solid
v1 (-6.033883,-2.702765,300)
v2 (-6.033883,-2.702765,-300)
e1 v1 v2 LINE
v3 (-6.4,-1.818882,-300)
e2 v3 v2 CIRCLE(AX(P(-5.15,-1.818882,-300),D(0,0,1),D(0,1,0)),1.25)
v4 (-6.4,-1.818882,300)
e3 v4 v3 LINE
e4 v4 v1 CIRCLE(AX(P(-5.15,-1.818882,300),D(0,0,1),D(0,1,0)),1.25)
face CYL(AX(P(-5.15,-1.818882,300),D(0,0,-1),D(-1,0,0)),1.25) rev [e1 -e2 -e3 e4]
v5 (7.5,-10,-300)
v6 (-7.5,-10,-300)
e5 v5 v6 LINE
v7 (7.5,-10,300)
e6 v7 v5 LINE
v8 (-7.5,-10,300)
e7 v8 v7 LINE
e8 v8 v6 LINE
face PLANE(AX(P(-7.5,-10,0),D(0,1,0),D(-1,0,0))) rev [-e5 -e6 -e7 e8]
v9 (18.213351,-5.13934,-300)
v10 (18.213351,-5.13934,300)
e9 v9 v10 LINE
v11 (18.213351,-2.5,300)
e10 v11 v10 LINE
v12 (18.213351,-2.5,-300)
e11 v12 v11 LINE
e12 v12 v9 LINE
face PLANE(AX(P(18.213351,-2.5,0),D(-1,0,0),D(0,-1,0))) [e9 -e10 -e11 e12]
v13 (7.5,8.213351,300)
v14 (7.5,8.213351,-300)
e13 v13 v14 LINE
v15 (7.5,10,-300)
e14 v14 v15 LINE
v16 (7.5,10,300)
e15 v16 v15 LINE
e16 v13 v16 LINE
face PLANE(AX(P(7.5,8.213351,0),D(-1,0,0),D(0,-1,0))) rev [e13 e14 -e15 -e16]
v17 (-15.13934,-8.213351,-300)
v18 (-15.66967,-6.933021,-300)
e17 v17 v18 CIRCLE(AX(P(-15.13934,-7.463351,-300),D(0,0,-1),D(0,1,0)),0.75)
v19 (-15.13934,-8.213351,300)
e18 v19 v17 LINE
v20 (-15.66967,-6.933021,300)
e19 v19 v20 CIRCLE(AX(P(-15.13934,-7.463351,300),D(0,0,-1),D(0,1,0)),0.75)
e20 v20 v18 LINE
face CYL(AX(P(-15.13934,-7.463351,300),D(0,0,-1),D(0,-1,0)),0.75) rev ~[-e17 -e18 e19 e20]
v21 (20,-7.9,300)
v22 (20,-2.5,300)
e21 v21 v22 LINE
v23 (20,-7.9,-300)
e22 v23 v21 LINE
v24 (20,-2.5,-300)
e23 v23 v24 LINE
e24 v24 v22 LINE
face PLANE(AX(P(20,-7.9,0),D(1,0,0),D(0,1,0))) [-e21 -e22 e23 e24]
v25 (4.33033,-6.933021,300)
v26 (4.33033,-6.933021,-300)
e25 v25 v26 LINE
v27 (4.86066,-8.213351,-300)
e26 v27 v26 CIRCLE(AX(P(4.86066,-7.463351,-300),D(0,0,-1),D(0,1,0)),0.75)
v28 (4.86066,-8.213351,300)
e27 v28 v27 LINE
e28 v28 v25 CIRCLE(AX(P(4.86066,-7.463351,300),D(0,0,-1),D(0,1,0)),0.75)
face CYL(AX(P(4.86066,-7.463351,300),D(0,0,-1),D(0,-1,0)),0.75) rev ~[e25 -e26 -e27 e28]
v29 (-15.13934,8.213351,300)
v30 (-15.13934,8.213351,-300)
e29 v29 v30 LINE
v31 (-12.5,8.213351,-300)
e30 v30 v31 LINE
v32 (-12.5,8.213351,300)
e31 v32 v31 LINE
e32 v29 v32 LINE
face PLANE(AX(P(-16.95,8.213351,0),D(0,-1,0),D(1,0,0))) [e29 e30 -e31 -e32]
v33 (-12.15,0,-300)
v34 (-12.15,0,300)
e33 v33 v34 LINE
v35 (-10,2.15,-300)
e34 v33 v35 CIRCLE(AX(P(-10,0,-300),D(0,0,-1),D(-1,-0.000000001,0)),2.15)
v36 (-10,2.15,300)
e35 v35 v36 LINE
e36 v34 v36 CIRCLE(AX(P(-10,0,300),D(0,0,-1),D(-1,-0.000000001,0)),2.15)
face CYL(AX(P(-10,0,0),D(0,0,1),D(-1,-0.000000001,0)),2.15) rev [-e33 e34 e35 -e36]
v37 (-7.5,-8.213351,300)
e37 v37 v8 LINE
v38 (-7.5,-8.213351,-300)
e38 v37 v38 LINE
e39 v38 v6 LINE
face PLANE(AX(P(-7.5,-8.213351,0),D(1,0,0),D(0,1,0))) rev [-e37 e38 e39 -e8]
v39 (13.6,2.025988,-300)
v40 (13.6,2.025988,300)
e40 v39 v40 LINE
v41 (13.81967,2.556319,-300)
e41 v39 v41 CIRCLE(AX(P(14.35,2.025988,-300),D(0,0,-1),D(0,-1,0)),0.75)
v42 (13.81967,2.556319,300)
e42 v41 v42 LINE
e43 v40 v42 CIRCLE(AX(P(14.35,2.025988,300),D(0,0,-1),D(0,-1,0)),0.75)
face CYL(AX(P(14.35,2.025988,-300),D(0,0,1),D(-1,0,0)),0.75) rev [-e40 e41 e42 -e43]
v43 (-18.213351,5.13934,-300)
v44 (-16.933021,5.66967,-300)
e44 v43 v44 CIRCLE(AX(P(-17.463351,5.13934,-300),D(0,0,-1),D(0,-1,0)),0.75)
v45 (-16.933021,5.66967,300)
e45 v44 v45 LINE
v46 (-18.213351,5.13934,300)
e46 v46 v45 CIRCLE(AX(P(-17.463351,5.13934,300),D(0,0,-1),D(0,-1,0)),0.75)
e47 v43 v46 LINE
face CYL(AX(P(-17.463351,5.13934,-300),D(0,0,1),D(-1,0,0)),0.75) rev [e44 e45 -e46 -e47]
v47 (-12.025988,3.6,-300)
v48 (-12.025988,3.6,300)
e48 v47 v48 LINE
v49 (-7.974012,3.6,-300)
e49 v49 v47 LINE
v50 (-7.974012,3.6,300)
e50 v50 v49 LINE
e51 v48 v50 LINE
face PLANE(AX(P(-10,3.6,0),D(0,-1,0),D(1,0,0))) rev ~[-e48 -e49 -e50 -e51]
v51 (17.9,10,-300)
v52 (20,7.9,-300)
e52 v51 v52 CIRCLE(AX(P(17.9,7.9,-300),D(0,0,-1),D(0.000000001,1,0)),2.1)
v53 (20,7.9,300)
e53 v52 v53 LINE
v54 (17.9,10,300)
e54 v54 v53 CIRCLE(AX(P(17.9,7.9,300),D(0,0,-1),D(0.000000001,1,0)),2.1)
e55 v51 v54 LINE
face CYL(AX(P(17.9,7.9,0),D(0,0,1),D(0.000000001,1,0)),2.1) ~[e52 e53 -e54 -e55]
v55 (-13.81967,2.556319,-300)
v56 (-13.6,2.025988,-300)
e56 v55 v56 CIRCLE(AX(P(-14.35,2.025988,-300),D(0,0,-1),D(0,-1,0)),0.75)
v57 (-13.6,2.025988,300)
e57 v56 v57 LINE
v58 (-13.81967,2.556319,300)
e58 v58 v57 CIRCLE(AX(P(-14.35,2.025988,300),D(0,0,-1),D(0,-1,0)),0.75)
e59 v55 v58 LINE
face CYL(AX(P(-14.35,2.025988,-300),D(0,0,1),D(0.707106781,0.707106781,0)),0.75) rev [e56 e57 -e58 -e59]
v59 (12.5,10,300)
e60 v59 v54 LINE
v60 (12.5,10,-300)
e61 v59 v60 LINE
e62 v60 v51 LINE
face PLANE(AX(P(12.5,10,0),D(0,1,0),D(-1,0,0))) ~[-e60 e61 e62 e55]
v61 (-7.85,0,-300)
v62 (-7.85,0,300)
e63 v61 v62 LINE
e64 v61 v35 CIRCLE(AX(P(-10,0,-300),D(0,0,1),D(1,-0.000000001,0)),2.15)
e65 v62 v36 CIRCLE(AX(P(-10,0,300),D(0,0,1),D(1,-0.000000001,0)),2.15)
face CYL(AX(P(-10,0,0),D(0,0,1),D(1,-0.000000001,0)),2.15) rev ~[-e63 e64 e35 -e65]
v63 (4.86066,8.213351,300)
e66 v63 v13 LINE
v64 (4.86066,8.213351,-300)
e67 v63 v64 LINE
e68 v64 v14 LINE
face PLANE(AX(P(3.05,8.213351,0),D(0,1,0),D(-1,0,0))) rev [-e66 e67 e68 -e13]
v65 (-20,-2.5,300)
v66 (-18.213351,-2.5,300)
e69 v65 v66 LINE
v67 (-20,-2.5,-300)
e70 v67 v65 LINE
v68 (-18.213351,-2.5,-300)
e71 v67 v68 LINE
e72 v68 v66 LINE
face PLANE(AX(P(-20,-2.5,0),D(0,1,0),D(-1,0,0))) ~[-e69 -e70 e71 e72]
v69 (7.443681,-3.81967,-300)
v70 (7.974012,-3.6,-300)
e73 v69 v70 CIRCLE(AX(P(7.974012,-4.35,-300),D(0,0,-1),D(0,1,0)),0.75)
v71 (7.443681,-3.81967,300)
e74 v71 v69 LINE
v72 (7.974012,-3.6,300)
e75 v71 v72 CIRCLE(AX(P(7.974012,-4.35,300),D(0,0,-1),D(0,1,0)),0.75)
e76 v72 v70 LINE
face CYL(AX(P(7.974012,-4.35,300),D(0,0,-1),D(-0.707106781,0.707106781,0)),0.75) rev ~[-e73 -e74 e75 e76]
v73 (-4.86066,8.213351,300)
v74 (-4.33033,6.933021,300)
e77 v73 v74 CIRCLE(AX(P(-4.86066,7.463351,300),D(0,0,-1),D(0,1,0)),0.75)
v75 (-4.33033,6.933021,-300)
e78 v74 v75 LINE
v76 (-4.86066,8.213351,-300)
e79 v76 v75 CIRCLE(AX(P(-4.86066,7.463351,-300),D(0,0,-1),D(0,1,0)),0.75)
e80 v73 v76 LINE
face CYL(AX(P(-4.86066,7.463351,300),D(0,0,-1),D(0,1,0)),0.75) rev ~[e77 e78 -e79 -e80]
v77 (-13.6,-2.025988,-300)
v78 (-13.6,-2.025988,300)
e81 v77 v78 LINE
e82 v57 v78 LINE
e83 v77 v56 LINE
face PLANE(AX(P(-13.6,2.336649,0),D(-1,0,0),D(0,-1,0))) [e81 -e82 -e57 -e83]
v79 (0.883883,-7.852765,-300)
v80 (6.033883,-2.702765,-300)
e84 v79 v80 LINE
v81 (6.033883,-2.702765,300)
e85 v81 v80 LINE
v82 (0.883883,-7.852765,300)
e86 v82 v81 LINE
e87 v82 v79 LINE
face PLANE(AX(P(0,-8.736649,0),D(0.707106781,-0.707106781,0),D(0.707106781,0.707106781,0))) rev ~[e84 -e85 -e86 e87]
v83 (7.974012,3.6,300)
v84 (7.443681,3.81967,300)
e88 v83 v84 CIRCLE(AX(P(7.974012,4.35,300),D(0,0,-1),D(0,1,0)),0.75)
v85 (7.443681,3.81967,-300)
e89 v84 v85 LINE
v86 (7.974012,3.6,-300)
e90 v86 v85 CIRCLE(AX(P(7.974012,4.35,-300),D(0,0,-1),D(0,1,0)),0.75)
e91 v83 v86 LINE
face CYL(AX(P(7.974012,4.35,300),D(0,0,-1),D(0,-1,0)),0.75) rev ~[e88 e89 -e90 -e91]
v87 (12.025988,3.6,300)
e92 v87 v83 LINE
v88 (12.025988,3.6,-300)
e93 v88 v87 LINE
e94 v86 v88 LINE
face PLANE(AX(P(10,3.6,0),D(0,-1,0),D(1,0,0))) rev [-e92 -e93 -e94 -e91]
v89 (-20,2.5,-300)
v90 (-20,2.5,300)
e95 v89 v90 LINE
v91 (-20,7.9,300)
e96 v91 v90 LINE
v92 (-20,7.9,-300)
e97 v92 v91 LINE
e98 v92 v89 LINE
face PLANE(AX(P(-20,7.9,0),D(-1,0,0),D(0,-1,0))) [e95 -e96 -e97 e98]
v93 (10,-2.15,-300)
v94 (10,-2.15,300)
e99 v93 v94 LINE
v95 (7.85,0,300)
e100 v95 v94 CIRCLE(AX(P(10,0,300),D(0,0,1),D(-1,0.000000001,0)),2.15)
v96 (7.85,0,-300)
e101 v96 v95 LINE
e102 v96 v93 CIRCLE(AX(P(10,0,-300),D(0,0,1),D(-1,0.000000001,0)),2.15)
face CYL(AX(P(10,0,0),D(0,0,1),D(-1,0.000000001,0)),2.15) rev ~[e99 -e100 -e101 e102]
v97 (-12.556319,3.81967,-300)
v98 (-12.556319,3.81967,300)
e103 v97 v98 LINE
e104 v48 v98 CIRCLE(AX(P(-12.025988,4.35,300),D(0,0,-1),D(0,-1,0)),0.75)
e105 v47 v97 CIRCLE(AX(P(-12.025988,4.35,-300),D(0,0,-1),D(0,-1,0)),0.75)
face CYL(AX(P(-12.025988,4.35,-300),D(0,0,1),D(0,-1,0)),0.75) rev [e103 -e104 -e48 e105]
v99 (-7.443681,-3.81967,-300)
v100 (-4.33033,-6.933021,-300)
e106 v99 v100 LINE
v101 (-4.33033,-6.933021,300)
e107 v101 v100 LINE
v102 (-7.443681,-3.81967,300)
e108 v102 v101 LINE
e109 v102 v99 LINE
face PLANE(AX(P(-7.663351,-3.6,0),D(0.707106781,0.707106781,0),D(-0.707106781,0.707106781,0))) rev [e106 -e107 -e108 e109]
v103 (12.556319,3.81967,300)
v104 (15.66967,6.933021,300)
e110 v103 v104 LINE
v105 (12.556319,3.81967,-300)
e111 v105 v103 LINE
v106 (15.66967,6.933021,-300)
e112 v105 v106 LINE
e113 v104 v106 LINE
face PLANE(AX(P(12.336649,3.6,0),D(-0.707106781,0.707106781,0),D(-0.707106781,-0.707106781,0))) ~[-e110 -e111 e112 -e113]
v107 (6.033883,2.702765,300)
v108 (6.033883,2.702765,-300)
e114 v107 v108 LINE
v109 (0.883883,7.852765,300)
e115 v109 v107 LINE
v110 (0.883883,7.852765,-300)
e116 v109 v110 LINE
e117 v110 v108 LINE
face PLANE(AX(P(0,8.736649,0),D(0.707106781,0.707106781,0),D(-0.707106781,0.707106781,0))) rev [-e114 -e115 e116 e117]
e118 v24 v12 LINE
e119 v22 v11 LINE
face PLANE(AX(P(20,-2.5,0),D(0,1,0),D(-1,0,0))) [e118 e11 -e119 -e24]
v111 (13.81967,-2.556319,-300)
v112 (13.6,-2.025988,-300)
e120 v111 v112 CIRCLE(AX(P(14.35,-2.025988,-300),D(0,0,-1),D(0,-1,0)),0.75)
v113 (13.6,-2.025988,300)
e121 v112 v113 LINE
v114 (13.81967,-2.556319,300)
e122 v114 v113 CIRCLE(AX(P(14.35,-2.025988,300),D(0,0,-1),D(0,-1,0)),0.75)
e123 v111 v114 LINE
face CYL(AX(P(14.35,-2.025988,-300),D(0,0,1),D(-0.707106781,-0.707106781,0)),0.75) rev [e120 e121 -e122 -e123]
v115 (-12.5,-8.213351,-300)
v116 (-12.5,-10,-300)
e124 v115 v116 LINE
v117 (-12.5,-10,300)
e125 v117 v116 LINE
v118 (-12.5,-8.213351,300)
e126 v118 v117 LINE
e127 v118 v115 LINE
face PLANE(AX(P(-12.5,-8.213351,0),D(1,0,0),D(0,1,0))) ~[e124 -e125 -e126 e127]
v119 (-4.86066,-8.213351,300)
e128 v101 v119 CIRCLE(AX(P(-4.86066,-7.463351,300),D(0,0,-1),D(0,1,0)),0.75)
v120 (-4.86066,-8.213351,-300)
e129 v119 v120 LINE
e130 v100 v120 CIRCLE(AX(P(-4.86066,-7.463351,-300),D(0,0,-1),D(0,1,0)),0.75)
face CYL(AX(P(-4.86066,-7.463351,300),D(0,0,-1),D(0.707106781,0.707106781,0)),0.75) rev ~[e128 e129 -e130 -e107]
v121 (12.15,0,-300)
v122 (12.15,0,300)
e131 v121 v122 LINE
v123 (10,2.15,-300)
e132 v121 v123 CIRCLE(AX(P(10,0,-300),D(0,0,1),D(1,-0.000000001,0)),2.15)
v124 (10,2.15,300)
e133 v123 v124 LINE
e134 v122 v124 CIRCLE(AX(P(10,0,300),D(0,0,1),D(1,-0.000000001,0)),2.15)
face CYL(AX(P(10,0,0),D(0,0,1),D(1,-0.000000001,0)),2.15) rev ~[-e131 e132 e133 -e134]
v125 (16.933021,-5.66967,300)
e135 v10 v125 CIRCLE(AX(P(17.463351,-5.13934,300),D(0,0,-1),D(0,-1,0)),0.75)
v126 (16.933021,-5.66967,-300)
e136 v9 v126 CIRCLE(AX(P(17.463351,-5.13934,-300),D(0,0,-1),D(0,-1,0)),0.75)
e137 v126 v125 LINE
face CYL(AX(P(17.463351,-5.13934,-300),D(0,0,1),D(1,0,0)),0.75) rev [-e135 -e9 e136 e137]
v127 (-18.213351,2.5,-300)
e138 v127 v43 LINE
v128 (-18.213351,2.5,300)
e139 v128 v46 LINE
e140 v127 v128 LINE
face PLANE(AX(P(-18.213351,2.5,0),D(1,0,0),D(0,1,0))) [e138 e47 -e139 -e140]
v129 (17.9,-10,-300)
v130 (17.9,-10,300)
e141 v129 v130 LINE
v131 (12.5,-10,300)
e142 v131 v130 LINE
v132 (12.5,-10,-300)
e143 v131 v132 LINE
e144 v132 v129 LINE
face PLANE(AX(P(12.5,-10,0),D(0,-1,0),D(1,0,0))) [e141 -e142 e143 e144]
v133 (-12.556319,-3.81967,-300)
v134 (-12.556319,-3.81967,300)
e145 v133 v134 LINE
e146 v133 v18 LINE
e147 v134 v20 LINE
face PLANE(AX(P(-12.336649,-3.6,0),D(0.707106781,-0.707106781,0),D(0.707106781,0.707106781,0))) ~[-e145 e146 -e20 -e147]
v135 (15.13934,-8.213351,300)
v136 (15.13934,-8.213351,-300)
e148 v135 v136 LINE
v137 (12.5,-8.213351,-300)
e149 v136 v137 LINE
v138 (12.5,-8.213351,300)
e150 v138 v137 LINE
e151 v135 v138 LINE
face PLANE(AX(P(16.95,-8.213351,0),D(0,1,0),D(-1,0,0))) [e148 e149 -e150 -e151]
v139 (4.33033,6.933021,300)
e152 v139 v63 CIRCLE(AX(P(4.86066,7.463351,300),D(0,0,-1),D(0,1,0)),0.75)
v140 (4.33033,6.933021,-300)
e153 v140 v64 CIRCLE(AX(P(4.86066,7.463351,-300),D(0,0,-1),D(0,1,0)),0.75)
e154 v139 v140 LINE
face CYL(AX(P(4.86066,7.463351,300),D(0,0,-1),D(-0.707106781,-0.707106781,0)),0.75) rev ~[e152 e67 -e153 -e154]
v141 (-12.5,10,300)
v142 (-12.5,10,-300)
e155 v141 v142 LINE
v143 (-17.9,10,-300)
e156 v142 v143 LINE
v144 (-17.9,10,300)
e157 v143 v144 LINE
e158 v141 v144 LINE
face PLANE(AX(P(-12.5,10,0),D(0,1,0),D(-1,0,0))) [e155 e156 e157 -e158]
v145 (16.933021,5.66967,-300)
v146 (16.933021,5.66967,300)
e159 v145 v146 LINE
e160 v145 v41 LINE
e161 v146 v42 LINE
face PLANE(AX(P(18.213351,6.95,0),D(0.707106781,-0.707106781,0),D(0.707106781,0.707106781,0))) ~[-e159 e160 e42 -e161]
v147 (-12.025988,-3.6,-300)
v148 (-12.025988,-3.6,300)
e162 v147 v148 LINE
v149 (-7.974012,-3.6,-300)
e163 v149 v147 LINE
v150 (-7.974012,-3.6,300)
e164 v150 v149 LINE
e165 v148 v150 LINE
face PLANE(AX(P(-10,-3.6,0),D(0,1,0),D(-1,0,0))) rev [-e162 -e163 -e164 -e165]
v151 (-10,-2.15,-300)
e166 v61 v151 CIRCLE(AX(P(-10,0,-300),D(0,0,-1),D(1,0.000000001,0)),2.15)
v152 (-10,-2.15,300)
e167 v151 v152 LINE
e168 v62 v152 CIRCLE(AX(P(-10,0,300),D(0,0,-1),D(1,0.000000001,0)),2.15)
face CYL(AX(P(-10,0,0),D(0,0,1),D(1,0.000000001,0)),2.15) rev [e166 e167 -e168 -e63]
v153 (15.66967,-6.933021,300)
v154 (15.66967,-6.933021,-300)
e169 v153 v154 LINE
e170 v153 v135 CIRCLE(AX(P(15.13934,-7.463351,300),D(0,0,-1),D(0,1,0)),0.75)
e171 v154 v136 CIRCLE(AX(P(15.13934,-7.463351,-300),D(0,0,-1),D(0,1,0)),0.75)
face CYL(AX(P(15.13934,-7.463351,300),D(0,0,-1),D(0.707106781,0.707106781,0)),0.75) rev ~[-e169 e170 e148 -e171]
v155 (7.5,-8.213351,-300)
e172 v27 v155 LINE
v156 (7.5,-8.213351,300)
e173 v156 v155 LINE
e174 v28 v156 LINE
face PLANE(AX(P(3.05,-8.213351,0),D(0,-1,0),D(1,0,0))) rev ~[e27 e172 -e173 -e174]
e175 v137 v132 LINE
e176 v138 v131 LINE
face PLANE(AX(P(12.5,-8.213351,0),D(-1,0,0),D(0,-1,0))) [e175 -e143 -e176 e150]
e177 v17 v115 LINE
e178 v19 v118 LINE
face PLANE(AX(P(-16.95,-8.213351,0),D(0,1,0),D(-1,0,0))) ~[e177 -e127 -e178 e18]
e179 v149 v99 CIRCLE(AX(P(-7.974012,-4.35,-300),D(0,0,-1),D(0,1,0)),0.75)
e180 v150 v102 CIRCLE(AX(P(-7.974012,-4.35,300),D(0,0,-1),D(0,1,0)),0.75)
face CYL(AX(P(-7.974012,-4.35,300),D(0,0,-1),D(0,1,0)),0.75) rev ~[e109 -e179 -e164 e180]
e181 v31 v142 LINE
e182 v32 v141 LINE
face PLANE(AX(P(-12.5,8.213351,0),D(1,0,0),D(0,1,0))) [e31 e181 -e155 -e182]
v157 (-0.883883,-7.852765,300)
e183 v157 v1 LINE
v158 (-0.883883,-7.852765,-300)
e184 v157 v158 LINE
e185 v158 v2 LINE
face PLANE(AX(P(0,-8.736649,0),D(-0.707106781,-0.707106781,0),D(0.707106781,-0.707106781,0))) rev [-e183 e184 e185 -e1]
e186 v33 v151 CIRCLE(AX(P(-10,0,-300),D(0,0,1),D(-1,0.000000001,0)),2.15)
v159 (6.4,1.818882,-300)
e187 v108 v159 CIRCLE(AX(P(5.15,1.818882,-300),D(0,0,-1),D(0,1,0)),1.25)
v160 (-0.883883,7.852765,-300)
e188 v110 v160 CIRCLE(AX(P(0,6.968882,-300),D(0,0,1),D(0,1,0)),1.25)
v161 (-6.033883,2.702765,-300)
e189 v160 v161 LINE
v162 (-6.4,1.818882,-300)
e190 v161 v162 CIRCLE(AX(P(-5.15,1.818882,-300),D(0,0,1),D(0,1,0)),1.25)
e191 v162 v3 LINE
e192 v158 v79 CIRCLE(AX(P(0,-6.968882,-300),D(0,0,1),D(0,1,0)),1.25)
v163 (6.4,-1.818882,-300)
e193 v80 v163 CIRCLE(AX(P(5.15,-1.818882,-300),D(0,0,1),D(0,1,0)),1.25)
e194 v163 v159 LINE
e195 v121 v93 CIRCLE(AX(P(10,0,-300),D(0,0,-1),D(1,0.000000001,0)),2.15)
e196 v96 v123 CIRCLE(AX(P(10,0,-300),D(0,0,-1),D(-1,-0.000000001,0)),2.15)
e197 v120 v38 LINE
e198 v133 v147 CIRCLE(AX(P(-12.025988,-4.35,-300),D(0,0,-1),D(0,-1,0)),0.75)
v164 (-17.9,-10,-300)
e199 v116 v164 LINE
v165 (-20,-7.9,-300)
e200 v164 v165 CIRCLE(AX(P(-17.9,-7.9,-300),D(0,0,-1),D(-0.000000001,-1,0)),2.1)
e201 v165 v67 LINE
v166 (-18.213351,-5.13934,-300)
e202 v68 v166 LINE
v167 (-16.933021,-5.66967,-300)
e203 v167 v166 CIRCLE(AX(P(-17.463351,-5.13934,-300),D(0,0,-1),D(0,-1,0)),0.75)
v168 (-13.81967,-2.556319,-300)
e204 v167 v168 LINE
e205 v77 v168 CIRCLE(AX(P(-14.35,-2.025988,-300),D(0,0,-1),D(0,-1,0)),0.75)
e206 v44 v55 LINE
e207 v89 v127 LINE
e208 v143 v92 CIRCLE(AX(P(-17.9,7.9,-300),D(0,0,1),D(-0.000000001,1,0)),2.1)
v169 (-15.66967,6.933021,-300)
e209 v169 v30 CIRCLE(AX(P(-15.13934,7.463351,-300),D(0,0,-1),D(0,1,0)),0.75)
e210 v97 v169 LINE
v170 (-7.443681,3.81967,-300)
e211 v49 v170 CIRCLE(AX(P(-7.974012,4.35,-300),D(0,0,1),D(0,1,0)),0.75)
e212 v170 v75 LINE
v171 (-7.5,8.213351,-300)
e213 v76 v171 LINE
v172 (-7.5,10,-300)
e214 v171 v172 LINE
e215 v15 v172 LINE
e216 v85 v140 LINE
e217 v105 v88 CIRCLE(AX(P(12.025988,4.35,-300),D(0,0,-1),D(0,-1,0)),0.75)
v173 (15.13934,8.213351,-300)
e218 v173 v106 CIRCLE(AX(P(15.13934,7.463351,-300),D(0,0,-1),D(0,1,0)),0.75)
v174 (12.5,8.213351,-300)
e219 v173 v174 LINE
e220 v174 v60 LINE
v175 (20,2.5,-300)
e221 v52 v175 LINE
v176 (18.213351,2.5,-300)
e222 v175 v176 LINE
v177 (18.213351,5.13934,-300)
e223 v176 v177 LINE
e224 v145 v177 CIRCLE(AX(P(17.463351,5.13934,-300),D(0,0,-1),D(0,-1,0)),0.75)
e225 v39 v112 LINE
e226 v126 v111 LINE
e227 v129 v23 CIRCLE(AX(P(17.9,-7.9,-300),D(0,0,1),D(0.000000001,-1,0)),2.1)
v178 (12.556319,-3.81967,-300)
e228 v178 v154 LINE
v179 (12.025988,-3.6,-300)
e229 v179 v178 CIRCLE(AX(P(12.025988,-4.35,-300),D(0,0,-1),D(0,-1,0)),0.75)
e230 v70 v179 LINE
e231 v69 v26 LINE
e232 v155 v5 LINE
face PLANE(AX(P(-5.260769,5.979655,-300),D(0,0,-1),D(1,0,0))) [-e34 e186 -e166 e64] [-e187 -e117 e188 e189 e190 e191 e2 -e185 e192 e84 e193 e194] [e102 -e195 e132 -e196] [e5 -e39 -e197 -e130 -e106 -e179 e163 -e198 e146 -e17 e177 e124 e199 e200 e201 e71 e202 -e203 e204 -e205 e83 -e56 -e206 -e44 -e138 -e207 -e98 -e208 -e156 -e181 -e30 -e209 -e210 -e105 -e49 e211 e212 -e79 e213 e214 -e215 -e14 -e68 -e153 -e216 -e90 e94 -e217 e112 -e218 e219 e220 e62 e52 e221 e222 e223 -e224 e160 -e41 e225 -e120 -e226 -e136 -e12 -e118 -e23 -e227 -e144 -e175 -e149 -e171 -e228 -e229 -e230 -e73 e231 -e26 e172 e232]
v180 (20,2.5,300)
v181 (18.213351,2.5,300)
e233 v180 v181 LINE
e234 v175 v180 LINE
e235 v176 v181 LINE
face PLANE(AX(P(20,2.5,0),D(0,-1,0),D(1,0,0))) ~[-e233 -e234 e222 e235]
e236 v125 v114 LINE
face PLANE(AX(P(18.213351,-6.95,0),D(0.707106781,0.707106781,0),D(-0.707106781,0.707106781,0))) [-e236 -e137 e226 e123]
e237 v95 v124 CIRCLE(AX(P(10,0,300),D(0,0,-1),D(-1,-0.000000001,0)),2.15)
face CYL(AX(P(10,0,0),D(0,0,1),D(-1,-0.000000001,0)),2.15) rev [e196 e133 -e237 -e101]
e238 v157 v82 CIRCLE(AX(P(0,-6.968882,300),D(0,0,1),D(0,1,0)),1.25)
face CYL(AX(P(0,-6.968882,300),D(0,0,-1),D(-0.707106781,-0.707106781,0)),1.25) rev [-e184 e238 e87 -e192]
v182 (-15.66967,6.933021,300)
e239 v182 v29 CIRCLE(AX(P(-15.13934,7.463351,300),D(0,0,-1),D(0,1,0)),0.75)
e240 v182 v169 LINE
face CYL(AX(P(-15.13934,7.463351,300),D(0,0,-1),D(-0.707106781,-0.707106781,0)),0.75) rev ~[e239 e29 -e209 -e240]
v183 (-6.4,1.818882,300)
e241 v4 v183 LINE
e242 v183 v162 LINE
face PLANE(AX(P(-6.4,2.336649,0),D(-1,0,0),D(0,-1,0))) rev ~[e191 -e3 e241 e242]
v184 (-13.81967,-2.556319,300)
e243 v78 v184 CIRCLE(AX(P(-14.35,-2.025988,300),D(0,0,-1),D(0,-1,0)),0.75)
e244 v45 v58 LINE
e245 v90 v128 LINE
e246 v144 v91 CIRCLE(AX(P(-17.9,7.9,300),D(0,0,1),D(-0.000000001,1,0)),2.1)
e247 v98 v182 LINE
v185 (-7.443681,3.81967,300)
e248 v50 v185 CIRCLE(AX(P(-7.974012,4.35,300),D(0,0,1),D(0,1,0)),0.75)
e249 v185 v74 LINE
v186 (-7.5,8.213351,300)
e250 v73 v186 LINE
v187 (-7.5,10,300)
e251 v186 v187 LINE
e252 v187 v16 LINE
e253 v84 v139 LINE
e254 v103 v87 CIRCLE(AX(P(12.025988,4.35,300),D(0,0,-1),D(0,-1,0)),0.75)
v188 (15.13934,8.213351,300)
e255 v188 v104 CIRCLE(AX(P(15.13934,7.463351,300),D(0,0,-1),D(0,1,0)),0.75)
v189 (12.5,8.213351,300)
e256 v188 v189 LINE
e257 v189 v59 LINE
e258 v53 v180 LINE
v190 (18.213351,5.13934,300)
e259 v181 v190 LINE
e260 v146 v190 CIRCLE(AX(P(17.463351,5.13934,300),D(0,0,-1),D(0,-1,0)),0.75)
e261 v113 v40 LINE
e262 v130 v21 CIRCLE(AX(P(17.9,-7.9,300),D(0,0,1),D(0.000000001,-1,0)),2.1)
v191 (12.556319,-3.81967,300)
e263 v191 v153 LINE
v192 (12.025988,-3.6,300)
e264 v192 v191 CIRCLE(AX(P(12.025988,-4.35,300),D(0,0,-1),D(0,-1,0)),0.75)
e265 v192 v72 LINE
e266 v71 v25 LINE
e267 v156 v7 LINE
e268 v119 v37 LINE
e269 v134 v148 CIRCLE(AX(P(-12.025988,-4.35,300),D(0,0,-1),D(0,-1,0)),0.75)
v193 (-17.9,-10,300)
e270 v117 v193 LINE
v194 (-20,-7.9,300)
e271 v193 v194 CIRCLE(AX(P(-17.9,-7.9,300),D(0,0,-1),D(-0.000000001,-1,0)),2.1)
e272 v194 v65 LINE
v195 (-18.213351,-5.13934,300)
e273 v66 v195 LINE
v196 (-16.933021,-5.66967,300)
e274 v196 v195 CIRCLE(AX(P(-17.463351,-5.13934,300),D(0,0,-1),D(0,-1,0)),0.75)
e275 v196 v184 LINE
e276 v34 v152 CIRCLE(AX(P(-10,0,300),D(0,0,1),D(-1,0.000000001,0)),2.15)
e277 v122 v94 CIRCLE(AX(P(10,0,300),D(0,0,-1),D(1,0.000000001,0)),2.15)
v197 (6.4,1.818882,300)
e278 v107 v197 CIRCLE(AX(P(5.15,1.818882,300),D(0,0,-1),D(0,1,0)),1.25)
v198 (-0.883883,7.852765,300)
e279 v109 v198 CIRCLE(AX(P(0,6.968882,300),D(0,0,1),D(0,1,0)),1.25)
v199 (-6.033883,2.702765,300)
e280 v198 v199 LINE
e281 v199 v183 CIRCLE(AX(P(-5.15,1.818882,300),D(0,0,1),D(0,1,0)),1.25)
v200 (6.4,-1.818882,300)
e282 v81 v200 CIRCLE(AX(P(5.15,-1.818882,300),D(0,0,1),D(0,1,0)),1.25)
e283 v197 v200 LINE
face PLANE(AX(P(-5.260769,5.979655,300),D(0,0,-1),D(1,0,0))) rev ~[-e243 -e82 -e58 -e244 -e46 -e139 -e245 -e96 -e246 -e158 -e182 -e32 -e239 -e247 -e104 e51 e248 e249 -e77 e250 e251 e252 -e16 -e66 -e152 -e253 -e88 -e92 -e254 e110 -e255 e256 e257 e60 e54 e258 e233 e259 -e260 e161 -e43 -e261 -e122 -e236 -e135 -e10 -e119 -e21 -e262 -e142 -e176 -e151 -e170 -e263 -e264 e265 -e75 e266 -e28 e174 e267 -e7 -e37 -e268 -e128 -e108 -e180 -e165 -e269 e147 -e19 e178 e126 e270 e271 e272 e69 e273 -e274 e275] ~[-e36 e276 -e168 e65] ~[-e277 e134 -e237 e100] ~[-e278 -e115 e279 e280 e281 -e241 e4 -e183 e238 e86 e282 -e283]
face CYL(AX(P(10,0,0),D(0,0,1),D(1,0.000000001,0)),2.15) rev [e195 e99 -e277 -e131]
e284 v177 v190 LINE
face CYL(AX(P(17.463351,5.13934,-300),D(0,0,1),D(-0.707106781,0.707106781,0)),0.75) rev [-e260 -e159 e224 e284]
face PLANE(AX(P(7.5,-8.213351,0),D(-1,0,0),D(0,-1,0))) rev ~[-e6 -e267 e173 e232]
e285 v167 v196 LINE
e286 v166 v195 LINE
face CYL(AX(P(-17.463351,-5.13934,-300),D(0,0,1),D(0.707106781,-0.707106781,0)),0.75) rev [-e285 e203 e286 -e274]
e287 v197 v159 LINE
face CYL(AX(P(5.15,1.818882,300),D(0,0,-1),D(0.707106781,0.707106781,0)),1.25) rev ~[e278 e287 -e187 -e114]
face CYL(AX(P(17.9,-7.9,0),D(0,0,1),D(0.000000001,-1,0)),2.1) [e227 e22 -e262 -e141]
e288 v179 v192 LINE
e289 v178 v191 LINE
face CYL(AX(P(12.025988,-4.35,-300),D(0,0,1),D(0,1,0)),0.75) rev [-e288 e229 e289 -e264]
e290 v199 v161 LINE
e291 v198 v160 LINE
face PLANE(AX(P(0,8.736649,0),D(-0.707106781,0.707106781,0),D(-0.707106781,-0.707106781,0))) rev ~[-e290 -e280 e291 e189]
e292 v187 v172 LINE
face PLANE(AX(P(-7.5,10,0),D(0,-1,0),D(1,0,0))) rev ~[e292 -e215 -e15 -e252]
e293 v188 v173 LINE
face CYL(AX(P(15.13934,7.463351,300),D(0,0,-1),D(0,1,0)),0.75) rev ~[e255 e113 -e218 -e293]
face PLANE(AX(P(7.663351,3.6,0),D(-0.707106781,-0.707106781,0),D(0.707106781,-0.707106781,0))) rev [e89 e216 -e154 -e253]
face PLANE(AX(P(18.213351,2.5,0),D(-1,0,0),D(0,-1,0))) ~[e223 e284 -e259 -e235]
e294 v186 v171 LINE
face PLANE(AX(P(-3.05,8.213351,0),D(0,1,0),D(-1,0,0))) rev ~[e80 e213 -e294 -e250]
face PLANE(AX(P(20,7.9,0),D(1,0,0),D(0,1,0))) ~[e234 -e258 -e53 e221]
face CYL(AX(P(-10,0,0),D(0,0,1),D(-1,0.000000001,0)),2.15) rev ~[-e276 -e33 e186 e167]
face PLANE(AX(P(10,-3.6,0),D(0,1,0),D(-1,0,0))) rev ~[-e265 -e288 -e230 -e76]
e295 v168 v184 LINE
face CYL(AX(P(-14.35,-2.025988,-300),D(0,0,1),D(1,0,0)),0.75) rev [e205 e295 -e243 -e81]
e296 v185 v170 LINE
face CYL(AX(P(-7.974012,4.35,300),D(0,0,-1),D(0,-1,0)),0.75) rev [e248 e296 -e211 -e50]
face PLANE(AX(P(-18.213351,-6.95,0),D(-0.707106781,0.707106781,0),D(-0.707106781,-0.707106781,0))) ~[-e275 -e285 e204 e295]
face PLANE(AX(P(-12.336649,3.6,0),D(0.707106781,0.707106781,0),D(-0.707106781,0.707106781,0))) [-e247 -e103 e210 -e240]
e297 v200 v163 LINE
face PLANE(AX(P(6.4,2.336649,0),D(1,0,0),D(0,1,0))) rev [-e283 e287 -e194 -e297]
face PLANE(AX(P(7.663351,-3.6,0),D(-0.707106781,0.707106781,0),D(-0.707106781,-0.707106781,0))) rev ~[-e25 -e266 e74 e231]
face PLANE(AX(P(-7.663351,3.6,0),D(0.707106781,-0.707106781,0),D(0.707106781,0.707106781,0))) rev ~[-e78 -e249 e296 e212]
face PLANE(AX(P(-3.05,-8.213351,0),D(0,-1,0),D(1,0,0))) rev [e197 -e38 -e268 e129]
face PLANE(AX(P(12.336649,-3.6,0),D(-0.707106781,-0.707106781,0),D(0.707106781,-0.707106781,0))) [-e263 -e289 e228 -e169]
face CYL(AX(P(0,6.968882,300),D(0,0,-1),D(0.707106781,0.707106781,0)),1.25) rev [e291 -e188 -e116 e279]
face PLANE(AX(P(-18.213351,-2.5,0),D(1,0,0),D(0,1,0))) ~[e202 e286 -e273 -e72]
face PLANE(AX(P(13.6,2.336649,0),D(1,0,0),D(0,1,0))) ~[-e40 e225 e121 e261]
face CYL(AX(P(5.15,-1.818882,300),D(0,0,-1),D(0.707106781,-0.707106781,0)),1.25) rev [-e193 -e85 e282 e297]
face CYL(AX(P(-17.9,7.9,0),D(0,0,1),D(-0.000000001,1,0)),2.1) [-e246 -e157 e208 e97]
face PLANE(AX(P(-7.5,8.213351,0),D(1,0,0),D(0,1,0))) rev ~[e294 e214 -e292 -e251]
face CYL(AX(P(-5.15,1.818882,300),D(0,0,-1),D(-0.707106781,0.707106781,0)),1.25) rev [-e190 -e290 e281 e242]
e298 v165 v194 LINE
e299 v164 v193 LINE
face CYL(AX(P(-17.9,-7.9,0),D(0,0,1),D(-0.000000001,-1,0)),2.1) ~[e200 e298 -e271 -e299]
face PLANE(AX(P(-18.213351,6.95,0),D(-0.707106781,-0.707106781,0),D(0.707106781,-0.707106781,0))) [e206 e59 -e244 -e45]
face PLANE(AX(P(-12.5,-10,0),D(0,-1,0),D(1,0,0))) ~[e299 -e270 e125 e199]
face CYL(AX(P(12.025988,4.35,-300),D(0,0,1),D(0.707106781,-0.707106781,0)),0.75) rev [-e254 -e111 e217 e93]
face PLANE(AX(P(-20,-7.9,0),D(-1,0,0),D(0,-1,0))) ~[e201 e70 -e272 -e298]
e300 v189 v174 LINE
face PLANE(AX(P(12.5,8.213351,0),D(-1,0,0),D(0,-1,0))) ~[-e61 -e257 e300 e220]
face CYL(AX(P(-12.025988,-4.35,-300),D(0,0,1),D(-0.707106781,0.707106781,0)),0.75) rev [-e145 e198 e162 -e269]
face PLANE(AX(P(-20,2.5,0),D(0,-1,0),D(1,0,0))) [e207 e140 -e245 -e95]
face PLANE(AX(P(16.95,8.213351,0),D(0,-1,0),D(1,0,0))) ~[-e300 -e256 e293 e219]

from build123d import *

# Parameters (mm, degrees)
BOSS_EXTRUDE1_DEPTH = 300
BOSS_EXTRUDE2_DEPTH = 300
FILLET1_R           = 0.75
FILLET2_R           = 1.25


with BuildPart() as part:
    # Sketch3 → Boss-Extrude1 (new, symmetric)
    with BuildSketch(Plane.XY):
        with BuildLine():
            Line((12.5, -10), (17.9, -10))
            ThreePointArc((17.9, -10), (19.38492424, -9.38492424), (20, -7.9))
            Line((20, -7.9), (20, -2.5))
            Line((20, -2.5), (18.213351365, -2.5))
            Line((18.213351365, -2.5), (18.213351365, -6.95))
            Line((18.213351365, -6.95), (13.6, -2.336648635))
            Line((13.6, -2.336648635), (13.6, 0))
            Line((13.6, 0), (12.15, 0))
            ThreePointArc((12.15, 0), (11.52027958, -1.52027958), (10, -2.15))
            Line((10, -2.15), (10, -3.6))
            Line((10, -3.6), (12.336648635, -3.6))
            Line((12.336648635, -3.6), (16.95, -8.213351365))
            Line((16.95, -8.213351365), (12.5, -8.213351365))
            Line((12.5, -8.213351365), (12.5, -10))
        make_face()
    extrude(amount=BOSS_EXTRUDE1_DEPTH, both=True)

    # Sketch4 → Boss-Extrude2 (add, symmetric)
    with BuildSketch(Plane.XY):
        with BuildLine():
            Line((10, -3.6), (7.663351365, -3.6))
            Line((7.663351365, -3.6), (3.05, -8.213351365))
            Line((3.05, -8.213351365), (7.5, -8.213351365))
            Line((7.5, -8.213351365), (7.5, -10))
            Line((7.5, -10), (0, -10))
            Line((0, -10), (0, -8.736648635))
            Line((0, -8.736648635), (6.4, -2.336648635))
            Line((6.4, -2.336648635), (6.4, 0))
            Line((6.4, 0), (7.85, 0))
            ThreePointArc((7.85, 0), (8.47972042, -1.52027958), (10, -2.15))
            Line((10, -2.15), (10, -3.6))
        make_face()
    extrude(amount=BOSS_EXTRUDE2_DEPTH, both=True)

    # Mirror1: part across plane


with BuildPart() as part_1:
    add(part.part)
    add(part.part.mirror(Plane(origin=(0, 0, 0), x_dir=(0, 0, 1), z_dir=(1, 0, 0))))

    # Mirror2: part across plane


with BuildPart() as part_2:
    add(part_1.part)
    add(part_1.part.mirror(Plane.ZX))

    # Fillet1
    fillet1_edges = [part_2.edges().sort_by_distance(p)[0] for p in [
        (18.213351365, 6.95, 0),
        (13.6, 2.336648635, 0),
        (12.336648635, 3.6, 0),
        (16.95, 8.213351365, 0),
        (3.05, 8.213351365, 0),
        (7.663351365, 3.6, 0),
        (-18.213351365, 6.95, 0),
        (-13.6, 2.336648635, 0),
        (-7.663351365, 3.6, 0),
        (-12.336648635, 3.6, 0),
        (-16.95, 8.213351365, 0),
        (-3.05, 8.213351365, 0),
        (16.95, -8.213351365, 0),
        (12.336648635, -3.6, 0),
        (13.6, -2.336648635, 0),
        (18.213351365, -6.95, 0),
        (3.05, -8.213351365, 0),
        (7.663351365, -3.6, 0),
        (-18.213351365, -6.95, 0),
        (-13.6, -2.336648635, 0),
        (-12.336648635, -3.6, 0),
        (-16.95, -8.213351365, 0),
        (-3.05, -8.213351365, 0),
        (-7.663351365, -3.6, 0),
    ]]
    fillet(fillet1_edges, radius=FILLET1_R)

    # Fillet2
    fillet2_edges = [part_2.edges().sort_by_distance(p)[0] for p in [
        (6.4, 2.336648635, 0),
        (0, 8.736648635, 0),
        (-6.4, 2.336648635, 0),
        (6.4, -2.336648635, 0),
        (-6.4, -2.336648635, 0),
        (0, -8.736648635, 0),
    ]]
    fillet(fillet2_edges, radius=FILLET2_R)


solid = part_2.part
